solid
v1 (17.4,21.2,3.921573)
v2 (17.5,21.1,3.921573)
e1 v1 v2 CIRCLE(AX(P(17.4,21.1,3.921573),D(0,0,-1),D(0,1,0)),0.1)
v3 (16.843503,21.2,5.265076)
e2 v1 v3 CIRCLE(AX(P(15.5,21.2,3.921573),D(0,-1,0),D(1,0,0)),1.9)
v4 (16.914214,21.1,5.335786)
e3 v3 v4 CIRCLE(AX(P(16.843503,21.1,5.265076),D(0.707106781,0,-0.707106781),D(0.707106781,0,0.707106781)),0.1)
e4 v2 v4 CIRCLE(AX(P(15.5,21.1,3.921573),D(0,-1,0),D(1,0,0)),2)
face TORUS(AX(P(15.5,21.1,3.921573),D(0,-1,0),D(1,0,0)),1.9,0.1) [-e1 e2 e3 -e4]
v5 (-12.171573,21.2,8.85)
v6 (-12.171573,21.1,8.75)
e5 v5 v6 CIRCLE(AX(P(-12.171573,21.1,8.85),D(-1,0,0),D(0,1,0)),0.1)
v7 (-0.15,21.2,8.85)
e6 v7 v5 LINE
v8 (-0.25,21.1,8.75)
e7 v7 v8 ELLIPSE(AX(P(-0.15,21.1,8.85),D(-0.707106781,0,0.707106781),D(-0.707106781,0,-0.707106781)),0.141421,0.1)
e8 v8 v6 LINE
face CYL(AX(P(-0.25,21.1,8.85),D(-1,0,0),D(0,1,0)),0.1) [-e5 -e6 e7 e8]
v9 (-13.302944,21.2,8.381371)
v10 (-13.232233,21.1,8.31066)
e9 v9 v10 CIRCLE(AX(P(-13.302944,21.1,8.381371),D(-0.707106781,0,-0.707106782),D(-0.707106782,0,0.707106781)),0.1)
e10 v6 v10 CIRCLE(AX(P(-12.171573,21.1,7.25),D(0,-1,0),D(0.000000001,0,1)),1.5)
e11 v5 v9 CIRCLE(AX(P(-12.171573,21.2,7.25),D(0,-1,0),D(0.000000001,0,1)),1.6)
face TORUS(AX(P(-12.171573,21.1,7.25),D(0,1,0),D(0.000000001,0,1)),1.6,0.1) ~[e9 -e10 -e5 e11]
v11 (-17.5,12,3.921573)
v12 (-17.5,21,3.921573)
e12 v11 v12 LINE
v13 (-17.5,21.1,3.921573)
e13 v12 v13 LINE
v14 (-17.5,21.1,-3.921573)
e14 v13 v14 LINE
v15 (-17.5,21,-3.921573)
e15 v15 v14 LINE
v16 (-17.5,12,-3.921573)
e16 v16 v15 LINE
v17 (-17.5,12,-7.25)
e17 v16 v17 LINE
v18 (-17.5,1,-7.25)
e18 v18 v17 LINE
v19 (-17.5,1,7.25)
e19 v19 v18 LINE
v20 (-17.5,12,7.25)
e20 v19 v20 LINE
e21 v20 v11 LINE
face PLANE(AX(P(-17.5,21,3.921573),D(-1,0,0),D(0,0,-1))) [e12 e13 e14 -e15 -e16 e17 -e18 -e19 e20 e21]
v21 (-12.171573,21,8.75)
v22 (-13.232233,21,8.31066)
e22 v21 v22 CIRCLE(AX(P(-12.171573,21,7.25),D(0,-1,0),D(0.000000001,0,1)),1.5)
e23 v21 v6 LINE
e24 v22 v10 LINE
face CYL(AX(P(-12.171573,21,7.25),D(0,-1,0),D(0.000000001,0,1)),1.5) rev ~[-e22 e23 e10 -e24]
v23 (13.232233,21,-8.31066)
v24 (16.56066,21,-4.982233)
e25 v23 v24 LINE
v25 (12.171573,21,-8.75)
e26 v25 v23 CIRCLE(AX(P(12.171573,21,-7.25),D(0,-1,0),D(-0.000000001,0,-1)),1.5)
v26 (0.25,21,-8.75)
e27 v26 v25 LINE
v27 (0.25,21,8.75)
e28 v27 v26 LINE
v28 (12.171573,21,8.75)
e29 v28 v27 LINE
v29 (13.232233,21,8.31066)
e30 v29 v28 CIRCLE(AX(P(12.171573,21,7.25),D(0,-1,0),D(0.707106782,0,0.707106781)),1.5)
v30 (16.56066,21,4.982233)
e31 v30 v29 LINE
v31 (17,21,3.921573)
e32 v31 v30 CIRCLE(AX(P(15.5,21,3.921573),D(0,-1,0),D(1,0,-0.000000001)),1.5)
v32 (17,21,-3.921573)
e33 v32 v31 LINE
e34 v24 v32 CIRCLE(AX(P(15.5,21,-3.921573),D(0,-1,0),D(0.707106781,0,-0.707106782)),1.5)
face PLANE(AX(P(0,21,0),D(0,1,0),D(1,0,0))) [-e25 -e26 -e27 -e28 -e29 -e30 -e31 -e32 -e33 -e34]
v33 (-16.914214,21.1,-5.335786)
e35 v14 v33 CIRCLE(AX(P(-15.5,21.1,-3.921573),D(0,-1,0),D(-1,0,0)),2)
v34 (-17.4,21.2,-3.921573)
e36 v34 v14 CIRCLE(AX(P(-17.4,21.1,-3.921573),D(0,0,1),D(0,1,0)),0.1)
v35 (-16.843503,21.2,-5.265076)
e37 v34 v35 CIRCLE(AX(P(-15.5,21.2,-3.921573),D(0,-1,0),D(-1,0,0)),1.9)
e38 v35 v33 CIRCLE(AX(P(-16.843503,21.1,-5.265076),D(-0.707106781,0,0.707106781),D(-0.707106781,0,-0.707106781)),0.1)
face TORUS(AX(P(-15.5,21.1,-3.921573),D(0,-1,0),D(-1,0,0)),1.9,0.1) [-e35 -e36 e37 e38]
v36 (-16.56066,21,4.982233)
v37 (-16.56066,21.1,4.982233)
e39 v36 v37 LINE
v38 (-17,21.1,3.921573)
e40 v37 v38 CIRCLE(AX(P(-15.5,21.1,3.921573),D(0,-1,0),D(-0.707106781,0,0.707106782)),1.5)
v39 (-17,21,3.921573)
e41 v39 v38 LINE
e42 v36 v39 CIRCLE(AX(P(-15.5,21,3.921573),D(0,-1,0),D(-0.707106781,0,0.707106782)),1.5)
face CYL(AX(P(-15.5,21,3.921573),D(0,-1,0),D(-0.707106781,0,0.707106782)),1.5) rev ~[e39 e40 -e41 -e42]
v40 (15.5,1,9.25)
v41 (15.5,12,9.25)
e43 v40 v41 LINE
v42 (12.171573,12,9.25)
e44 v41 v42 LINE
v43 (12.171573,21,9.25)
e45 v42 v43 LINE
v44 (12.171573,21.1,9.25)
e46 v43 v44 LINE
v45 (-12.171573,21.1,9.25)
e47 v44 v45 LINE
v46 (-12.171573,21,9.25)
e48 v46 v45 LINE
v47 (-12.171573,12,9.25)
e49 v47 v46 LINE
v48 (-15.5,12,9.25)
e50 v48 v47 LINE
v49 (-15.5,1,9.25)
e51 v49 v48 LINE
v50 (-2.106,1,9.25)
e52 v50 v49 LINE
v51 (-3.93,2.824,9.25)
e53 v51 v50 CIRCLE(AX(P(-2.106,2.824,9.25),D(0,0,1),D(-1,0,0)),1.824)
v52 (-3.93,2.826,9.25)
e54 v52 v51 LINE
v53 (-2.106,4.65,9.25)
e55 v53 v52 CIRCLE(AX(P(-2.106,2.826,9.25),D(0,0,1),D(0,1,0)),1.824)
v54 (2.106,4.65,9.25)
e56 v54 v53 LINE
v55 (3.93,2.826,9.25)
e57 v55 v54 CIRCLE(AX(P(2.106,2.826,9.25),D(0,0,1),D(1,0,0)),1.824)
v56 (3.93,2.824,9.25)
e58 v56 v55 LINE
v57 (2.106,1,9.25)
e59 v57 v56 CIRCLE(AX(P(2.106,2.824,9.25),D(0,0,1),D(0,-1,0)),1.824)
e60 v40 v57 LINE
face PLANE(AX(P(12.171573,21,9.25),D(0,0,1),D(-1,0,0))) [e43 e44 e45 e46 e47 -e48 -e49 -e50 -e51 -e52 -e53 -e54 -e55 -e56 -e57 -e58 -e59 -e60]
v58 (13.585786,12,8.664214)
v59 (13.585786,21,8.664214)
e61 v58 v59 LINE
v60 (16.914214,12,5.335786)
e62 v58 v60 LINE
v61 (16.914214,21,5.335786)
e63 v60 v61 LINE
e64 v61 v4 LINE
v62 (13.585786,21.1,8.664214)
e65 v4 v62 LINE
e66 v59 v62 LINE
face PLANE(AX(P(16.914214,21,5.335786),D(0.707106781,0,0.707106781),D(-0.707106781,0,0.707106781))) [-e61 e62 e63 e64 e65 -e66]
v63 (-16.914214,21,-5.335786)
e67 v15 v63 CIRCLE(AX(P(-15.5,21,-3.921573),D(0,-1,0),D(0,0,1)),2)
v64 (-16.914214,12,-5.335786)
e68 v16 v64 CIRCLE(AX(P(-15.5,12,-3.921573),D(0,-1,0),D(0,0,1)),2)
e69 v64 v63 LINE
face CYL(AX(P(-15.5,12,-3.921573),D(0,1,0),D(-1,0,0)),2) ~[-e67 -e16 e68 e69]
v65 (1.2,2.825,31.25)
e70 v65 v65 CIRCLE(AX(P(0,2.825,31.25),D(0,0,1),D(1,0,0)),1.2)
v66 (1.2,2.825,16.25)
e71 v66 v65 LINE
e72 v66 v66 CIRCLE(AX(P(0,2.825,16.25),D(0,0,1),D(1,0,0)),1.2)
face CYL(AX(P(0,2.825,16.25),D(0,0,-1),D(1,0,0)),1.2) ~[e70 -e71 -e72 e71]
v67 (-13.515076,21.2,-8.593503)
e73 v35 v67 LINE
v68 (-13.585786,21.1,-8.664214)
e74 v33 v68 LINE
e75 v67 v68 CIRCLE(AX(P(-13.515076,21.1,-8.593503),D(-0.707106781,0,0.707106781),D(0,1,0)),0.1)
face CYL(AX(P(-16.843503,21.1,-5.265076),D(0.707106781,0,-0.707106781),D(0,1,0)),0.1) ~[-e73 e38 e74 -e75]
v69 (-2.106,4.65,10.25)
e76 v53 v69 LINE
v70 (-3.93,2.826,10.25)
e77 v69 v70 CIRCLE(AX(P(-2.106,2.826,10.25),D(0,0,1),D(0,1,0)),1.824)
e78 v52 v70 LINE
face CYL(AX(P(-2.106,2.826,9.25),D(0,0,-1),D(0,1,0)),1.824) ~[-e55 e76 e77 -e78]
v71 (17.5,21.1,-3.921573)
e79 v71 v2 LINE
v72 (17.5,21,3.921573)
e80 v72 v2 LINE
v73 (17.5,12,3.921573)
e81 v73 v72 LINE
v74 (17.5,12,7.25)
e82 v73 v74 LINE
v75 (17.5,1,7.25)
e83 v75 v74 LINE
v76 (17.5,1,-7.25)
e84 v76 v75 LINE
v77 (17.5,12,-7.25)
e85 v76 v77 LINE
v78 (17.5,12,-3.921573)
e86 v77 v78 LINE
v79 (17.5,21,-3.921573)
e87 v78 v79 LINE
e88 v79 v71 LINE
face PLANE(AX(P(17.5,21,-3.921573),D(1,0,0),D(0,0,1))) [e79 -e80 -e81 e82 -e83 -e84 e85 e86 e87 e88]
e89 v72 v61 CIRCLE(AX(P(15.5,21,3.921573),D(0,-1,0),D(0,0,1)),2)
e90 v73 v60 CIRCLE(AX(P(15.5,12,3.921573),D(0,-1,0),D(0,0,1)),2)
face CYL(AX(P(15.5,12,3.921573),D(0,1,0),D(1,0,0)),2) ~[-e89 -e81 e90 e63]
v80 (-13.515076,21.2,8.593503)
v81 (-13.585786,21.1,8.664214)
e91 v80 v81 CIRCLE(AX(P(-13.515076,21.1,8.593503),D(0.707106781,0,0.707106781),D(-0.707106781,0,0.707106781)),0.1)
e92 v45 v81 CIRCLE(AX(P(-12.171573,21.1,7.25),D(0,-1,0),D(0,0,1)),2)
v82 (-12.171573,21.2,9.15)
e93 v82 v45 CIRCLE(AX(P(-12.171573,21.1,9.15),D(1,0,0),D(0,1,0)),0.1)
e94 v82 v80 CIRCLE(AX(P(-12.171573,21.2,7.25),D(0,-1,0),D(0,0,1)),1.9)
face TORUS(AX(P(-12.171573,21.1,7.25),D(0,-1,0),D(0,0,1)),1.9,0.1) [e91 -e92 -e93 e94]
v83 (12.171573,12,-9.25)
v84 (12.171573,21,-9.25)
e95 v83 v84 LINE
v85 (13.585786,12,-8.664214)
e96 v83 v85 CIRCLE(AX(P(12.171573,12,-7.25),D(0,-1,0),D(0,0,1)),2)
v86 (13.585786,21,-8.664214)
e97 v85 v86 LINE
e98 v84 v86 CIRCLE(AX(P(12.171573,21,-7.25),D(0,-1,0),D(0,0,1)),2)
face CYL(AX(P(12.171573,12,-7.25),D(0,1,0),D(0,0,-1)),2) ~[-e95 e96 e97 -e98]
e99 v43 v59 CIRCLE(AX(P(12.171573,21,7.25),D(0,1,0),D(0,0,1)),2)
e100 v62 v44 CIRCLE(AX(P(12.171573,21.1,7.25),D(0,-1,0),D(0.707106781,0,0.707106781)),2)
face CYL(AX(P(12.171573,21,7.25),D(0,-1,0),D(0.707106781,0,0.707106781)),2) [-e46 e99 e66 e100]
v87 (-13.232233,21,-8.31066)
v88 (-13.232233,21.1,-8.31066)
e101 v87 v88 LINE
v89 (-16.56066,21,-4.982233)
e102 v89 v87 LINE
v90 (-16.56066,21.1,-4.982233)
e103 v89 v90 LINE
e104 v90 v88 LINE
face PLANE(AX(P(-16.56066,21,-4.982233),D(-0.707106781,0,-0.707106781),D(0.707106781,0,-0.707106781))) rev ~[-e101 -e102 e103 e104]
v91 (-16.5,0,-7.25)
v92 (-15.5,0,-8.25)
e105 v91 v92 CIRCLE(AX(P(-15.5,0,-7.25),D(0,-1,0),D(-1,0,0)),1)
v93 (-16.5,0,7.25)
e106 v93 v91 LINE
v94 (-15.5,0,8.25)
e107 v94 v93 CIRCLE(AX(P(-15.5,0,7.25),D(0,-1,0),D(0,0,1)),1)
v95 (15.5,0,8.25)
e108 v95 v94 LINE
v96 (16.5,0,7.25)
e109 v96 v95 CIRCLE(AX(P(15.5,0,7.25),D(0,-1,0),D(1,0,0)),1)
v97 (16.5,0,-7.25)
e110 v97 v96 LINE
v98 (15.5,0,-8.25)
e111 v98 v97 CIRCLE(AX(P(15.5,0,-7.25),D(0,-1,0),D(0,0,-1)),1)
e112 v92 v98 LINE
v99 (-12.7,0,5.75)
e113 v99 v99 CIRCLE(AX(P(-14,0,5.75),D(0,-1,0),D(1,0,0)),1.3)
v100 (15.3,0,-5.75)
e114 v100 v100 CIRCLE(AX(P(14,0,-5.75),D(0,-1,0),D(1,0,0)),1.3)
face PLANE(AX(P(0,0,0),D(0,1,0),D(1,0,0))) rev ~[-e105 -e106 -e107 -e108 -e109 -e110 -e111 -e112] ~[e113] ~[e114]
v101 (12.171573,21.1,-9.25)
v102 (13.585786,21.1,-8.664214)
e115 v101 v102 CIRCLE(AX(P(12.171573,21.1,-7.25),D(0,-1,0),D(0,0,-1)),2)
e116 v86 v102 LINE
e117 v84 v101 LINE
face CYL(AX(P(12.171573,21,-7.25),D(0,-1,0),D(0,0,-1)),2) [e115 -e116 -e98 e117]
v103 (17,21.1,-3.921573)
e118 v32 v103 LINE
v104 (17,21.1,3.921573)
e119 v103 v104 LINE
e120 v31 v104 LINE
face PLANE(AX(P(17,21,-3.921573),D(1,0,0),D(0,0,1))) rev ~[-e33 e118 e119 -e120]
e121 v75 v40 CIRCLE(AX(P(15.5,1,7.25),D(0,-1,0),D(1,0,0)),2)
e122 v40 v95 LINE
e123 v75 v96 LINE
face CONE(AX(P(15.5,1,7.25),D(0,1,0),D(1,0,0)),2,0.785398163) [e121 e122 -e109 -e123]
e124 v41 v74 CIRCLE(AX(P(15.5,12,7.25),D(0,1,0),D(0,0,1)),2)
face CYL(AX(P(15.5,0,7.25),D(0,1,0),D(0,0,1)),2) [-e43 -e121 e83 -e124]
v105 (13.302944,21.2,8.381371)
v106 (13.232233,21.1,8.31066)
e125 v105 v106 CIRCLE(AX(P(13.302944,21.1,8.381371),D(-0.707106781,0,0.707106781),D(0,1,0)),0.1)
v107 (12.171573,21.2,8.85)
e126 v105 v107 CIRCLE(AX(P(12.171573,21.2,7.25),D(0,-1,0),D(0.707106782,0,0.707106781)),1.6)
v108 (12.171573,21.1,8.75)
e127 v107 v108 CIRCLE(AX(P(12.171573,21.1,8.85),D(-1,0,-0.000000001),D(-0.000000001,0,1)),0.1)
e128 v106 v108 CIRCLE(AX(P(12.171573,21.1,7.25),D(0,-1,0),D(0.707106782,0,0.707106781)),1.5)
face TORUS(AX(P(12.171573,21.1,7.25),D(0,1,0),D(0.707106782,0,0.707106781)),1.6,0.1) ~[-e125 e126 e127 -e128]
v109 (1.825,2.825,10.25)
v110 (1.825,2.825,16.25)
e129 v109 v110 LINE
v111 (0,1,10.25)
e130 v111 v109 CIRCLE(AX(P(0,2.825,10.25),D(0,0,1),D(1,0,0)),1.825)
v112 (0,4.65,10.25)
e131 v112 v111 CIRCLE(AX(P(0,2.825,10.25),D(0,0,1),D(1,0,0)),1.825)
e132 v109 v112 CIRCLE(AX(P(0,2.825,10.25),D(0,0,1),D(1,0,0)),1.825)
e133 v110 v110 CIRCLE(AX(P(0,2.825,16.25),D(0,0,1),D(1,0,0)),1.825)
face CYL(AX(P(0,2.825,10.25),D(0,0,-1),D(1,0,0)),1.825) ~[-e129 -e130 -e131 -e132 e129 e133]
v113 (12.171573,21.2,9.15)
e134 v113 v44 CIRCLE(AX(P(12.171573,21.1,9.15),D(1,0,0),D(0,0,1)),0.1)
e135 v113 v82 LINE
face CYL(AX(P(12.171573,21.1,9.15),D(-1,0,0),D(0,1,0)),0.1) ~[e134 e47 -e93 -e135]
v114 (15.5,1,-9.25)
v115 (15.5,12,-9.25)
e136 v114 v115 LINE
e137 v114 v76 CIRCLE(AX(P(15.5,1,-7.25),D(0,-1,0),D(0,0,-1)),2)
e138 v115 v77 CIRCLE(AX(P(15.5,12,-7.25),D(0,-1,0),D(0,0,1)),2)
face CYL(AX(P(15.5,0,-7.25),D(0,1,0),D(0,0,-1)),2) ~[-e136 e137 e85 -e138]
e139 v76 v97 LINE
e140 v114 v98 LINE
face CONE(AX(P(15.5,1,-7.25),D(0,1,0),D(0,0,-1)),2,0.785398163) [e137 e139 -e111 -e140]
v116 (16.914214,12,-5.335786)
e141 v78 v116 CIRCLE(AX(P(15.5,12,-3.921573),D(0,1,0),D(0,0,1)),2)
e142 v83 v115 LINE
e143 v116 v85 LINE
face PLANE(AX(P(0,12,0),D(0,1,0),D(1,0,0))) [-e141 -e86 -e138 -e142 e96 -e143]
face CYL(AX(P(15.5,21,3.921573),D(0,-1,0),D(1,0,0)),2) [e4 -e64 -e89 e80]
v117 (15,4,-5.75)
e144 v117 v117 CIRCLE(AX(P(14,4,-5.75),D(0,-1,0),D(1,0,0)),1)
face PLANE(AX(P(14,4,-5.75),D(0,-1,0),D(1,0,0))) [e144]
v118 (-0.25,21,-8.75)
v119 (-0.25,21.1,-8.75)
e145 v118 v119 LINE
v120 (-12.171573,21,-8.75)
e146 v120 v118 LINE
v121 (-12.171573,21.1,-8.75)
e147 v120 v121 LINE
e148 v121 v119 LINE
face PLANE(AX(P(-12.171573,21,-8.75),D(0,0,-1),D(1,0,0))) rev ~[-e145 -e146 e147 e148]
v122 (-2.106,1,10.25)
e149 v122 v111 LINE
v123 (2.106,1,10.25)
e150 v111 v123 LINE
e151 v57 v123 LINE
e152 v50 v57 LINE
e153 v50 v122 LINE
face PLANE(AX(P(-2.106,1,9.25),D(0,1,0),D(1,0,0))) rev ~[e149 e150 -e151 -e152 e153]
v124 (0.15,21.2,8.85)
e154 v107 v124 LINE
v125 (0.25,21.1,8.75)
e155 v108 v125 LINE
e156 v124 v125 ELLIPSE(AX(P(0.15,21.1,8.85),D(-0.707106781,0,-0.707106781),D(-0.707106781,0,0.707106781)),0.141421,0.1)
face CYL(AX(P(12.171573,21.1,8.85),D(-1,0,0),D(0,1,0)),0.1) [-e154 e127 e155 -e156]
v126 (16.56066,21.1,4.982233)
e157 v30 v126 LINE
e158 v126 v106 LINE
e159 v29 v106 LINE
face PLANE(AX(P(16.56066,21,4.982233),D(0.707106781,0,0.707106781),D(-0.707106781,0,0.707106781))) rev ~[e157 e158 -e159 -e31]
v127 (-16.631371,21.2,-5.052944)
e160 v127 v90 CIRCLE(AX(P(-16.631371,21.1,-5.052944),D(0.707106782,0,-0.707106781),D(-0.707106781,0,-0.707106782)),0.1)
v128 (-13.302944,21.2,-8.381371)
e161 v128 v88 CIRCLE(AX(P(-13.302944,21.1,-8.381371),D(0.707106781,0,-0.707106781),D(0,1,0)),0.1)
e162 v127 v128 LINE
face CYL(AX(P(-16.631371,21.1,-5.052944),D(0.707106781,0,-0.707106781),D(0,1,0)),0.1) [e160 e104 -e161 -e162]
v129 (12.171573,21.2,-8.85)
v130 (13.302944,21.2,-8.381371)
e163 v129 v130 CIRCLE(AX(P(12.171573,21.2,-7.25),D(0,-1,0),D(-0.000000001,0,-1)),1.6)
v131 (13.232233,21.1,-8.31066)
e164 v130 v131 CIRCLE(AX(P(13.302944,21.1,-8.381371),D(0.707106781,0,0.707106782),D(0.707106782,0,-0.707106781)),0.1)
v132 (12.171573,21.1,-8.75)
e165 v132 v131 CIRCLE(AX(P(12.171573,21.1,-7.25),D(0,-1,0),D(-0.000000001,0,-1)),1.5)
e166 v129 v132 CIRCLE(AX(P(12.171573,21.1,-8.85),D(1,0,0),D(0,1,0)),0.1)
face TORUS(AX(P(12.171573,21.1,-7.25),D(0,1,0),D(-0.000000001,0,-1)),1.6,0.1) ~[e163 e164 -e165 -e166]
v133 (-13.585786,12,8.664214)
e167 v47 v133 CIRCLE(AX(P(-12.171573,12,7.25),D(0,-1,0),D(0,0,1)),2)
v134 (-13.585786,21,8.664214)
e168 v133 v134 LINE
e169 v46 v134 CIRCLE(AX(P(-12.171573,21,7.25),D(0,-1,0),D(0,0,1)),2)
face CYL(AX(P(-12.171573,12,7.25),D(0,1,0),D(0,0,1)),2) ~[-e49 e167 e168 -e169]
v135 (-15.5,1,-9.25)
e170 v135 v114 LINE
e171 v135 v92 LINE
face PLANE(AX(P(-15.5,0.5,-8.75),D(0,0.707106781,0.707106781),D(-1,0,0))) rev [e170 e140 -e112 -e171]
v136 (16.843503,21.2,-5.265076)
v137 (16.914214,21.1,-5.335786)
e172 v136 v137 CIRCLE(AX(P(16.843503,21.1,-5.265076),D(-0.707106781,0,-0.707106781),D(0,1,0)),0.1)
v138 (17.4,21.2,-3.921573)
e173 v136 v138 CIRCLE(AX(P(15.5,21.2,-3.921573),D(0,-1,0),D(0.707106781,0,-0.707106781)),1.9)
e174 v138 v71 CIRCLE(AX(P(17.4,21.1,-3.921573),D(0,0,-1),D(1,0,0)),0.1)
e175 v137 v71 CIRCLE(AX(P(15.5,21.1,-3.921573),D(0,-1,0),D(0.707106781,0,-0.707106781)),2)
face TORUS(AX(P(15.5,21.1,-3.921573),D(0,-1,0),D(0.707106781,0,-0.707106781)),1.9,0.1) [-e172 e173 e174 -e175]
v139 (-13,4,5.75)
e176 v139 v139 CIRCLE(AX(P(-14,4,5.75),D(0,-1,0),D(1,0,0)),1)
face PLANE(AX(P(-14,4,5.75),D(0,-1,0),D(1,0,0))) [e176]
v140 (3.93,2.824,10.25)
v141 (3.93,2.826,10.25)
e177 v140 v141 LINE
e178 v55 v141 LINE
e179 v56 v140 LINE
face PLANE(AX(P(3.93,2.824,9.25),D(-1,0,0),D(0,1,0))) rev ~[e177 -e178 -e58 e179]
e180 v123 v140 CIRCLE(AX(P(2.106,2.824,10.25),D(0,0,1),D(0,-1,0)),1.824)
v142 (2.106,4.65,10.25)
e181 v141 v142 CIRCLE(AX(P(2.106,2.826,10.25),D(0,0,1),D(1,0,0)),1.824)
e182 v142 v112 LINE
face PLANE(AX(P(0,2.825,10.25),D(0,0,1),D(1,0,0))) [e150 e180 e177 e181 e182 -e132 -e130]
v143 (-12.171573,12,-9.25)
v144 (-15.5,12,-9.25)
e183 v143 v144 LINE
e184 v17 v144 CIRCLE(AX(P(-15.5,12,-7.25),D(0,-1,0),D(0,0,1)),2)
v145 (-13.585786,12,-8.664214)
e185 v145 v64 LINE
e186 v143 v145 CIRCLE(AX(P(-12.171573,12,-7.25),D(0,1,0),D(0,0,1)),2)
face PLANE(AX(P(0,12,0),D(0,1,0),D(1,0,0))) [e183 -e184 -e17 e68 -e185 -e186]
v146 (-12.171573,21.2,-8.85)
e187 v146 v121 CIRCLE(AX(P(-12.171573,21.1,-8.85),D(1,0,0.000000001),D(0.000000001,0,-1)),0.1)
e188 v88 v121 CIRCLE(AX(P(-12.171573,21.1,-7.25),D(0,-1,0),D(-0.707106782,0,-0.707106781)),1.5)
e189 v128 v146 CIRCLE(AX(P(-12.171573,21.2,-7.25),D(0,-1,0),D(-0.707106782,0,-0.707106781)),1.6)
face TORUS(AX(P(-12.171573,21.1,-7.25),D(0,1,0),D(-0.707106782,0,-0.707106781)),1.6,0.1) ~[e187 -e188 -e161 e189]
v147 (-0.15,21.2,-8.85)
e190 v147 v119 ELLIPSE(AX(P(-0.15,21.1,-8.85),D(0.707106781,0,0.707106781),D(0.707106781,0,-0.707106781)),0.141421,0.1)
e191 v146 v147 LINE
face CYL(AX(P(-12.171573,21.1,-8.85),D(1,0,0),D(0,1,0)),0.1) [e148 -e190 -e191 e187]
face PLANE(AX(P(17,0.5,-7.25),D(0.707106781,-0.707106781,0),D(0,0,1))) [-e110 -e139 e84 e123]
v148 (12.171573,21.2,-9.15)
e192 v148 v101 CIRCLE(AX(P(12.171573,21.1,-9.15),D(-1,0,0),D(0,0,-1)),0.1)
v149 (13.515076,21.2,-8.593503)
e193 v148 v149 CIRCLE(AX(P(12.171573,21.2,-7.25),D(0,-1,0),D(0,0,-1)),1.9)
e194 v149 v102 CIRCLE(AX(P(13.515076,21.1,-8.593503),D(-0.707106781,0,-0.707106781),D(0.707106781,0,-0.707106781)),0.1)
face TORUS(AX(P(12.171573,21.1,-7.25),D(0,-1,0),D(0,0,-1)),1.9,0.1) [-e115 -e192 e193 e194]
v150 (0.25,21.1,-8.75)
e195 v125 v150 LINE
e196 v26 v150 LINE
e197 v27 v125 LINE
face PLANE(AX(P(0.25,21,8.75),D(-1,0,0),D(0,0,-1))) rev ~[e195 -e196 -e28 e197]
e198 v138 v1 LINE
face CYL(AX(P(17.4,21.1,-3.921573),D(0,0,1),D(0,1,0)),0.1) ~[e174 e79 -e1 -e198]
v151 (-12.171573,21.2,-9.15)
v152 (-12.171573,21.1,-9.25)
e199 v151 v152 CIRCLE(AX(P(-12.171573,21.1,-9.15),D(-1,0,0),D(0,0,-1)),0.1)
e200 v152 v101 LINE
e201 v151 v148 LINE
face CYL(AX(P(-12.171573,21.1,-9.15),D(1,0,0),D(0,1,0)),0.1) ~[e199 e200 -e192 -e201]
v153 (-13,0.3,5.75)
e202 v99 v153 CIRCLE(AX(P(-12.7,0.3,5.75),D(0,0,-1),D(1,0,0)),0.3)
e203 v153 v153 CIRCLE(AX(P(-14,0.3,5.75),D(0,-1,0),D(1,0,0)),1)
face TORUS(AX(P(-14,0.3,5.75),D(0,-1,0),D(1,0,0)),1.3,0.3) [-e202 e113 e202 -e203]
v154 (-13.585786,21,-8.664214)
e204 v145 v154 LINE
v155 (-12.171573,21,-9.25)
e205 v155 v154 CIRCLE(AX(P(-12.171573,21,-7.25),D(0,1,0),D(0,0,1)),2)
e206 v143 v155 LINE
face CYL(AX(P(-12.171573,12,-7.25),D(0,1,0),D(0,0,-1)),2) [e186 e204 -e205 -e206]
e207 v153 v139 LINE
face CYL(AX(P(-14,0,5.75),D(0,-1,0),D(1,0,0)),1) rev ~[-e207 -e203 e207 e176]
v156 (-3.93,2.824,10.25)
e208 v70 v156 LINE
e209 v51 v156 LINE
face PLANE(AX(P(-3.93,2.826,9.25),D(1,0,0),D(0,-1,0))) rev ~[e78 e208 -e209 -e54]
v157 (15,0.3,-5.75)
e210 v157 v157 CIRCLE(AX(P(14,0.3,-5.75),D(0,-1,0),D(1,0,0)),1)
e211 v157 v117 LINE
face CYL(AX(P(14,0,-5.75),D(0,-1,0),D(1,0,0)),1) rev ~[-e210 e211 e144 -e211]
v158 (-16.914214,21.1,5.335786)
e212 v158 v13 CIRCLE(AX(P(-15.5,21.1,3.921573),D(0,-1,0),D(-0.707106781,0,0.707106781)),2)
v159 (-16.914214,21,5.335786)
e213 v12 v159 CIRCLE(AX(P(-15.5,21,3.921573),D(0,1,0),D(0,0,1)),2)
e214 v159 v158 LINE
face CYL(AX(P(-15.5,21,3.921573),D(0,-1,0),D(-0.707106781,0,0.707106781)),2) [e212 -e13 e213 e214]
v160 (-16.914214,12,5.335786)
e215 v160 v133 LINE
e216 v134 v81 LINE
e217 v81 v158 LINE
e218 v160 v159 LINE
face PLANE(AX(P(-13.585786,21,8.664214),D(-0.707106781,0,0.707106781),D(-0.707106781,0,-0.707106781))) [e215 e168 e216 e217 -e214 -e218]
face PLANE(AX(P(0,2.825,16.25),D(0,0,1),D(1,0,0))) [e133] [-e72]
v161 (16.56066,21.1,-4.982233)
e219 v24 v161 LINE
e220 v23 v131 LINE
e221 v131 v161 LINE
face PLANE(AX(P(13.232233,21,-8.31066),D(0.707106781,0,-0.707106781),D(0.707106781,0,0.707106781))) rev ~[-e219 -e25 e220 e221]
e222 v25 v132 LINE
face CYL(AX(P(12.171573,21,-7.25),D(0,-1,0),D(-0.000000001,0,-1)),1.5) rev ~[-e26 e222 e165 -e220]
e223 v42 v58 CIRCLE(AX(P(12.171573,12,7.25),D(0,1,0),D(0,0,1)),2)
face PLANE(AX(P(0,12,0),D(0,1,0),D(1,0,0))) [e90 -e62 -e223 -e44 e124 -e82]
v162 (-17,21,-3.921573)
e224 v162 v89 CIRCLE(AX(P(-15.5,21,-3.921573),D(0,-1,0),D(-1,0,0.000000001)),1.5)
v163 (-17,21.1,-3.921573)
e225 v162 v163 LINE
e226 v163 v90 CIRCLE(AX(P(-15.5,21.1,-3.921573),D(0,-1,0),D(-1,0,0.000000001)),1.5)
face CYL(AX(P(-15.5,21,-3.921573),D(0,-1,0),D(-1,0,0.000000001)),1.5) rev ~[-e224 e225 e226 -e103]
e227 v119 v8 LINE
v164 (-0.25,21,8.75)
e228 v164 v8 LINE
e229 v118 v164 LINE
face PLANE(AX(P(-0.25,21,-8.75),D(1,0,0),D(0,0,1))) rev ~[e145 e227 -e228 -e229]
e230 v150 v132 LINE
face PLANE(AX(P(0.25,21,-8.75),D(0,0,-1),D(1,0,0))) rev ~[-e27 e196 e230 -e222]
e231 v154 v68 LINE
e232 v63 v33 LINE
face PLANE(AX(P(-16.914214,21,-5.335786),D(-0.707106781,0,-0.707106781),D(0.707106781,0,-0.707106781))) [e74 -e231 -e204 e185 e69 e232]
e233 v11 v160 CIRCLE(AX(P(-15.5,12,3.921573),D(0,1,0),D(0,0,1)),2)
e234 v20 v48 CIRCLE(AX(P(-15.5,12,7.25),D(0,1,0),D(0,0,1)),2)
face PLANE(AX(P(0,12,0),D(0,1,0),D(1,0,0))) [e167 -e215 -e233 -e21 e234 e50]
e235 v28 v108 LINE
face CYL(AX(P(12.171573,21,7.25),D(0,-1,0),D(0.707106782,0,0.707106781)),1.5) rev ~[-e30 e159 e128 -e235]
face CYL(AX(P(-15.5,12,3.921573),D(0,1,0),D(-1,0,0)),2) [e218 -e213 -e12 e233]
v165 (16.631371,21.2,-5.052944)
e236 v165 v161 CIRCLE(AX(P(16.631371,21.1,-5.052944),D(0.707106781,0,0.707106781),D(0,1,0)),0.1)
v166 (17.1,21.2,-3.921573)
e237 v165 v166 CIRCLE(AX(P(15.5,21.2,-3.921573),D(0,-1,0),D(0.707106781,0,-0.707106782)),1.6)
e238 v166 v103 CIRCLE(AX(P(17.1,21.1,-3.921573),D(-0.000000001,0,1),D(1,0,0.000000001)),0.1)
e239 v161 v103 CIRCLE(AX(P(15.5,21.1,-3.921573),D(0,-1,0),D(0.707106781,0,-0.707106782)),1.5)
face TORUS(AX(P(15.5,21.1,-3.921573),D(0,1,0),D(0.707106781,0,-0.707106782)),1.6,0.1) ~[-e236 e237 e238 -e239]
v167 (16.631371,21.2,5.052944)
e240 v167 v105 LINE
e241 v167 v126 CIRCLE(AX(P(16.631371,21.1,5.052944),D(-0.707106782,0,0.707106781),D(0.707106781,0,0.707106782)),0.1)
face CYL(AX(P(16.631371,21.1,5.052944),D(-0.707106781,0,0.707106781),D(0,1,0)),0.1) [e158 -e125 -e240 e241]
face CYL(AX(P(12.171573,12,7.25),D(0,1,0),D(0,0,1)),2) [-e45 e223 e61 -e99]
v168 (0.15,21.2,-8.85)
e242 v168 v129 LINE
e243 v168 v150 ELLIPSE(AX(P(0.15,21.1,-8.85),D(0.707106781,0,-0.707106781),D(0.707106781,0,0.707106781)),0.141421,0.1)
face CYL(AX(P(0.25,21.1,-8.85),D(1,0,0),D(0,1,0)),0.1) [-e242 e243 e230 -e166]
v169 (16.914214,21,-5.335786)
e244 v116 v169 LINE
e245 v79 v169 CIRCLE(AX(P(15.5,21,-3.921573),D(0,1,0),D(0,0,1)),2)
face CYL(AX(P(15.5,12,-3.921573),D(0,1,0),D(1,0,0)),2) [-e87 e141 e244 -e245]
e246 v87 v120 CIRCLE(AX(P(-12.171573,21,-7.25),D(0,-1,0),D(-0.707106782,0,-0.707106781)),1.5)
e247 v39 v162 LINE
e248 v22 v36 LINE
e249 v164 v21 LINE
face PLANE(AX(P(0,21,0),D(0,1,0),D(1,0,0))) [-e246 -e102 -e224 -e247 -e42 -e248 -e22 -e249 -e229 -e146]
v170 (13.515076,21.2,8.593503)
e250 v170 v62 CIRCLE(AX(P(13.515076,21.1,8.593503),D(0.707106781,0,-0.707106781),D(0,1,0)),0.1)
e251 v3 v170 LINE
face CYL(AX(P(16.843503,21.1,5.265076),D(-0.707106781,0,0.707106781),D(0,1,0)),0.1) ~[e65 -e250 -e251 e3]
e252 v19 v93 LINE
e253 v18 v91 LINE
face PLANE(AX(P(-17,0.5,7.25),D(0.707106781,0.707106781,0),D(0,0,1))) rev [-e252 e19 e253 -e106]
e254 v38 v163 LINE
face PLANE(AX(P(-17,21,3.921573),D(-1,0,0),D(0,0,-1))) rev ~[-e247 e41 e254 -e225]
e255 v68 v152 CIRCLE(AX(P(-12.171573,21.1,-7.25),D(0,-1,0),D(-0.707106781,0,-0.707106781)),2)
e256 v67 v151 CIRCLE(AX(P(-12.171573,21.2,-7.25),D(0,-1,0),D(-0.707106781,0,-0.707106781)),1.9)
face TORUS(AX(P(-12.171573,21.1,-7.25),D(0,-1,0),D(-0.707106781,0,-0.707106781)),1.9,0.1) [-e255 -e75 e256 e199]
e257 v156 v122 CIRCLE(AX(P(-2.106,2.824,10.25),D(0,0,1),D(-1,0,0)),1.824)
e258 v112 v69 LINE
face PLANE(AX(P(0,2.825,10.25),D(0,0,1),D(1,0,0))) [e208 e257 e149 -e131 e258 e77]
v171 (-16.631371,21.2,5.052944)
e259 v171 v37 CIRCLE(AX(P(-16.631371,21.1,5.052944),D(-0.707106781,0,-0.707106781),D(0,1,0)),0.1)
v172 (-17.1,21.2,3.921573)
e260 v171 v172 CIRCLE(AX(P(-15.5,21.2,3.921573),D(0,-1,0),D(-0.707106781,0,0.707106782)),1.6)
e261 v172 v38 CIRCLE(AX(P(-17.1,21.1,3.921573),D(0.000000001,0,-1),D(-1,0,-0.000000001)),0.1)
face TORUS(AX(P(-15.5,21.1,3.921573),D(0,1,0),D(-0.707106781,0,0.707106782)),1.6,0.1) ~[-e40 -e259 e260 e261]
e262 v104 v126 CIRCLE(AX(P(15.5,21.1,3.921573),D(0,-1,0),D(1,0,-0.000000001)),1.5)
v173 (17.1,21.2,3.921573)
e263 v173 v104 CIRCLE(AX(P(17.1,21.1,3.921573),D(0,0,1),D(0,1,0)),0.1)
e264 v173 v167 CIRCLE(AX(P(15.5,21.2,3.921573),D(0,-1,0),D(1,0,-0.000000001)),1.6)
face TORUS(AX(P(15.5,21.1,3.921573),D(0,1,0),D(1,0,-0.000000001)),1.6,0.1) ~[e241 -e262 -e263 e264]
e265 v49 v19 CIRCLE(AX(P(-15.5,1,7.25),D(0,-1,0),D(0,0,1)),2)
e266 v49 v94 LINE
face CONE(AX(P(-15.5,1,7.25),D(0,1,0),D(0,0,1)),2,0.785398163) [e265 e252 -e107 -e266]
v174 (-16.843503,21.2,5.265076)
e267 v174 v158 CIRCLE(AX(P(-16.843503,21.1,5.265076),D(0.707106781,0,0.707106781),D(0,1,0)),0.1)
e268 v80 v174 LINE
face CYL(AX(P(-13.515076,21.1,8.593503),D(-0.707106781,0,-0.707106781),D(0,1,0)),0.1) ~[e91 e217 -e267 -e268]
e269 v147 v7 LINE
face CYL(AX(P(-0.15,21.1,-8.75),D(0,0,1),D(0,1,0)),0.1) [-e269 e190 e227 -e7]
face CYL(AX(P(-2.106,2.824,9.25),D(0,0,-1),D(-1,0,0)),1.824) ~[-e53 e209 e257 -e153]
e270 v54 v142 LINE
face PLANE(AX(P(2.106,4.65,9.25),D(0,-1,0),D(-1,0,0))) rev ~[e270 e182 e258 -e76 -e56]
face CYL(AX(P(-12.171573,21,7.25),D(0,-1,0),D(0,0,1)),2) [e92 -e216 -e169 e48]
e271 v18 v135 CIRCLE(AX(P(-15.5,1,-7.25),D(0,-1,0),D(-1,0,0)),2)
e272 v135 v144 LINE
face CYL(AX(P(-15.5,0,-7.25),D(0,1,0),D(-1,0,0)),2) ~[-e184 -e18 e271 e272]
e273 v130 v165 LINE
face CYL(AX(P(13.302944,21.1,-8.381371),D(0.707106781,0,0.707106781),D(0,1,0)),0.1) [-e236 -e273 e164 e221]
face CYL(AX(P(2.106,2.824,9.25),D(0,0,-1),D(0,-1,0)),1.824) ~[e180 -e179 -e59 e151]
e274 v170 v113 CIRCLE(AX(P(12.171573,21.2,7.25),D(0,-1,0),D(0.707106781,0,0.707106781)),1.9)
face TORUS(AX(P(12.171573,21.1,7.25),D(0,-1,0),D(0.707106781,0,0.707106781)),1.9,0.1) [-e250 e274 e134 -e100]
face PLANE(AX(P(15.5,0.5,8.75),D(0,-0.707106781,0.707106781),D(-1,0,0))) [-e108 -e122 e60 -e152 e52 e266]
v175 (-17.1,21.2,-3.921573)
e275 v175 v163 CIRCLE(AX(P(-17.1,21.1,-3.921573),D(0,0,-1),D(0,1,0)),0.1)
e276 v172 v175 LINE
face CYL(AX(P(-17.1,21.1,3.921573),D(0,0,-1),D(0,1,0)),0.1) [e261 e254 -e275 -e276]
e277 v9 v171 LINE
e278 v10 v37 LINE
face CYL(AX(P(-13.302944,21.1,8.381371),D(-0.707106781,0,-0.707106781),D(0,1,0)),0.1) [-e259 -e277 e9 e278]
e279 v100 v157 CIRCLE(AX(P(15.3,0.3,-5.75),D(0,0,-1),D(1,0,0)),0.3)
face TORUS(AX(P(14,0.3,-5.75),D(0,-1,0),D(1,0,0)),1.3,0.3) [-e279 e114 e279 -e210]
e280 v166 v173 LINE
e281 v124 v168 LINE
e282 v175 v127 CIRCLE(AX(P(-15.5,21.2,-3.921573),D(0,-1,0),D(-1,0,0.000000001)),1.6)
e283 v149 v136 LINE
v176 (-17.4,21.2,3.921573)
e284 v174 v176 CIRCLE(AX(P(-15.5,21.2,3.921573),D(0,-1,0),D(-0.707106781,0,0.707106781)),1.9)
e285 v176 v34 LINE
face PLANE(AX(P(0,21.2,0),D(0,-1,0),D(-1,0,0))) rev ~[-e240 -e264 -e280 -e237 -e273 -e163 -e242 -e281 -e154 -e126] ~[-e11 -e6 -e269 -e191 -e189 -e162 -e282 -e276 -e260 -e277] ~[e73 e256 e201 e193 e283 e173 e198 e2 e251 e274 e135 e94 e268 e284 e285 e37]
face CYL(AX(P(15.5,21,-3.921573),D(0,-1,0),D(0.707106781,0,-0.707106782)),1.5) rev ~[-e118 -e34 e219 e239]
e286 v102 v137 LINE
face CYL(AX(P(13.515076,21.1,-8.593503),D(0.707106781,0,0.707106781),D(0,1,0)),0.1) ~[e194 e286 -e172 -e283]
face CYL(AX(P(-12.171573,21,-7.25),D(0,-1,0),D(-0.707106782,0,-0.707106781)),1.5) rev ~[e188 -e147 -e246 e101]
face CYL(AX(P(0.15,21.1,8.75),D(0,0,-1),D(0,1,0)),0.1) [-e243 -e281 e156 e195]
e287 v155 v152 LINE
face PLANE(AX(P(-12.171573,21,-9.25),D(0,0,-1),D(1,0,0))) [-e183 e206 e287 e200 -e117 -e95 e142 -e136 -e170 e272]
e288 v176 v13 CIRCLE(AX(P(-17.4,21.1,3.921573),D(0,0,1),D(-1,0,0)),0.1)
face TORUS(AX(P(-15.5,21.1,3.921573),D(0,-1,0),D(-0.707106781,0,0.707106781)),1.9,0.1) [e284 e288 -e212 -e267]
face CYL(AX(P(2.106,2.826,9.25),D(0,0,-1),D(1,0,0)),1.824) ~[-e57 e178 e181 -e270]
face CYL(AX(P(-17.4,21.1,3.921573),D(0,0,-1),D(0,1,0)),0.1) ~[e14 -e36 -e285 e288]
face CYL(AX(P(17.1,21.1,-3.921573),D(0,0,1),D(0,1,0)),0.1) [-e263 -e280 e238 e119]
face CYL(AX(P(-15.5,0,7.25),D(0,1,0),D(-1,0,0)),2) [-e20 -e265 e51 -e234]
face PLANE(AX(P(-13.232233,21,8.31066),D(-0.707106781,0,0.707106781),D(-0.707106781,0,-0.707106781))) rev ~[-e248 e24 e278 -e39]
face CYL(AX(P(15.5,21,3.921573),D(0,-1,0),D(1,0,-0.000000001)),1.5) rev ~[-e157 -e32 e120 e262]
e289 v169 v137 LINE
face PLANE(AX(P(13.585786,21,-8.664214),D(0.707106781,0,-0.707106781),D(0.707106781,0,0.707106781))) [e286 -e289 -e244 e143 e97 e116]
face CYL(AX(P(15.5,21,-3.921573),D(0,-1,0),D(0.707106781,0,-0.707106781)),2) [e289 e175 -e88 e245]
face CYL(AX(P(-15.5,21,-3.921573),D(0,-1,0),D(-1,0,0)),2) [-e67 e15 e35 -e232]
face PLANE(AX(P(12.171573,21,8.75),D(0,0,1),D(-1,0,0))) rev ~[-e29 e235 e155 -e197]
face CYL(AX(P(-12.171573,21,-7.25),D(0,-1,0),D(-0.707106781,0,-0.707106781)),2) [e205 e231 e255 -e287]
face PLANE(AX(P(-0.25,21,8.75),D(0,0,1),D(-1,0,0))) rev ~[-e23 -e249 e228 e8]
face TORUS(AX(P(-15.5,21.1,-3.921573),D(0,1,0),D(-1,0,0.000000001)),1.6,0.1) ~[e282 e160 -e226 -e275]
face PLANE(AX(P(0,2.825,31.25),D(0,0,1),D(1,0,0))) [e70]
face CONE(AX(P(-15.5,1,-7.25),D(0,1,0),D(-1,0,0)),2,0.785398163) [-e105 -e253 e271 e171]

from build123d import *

# Parameters (mm, degrees)
SKETCH_1_W          = 35
SKETCH_1_H          = 18.5
EXTRUDE_1_DEPTH     = 12
EXTRUDE_2_DEPTH     = 9
FILLET_1_R          = 2
CHAMFER_1_SIZE      = 1
EXTRUDE_3_DEPTH     = 1
SKETCH_4_R          = 1.825
EXTRUDE_4_DEPTH     = 6
SKETCH_5_R          = 1.2
EXTRUDE_5_DEPTH     = 15
SKETCH_6_R          = 1
CUT_EXTRUDE_1_DEPTH = 4
FILLET_2_R          = 0.3
EXTRUDE_6_DEPTH     = 0.2
FILLET_3_R          = 0.1


with BuildPart() as part:
    # 草图1 → 凸台-拉伸1 (new body)
    with BuildSketch(Plane(origin=(0, 0, 0), x_dir=(1, 0, 0), z_dir=(0, 1, 0))):
        Rectangle(SKETCH_1_W, SKETCH_1_H)
    extrude(amount=EXTRUDE_1_DEPTH)

    # 草图2 → 凸台-拉伸2 (add)
    with BuildSketch(Plane(origin=(0, 12, 0), x_dir=(1, 0, 0), z_dir=(0, 1, 0))):
        Polygon((-13, 9.25), (-17.5, 4.75), (-17.5, -4.75), (-13, -9.25), (13, -9.25), (17.5, -4.75), (17.5, 4.75), (13, 9.25), align=None)
    extrude(amount=EXTRUDE_2_DEPTH)

    # 圆角1
    fillet_1_edges = [part.edges().sort_by_distance(p)[0] for p in [
        (13, 16.5, -9.25),
        (-13, 16.5, -9.25),
        (-17.5, 16.5, -4.75),
        (-17.5, 16.5, 4.75),
        (-13, 16.5, 9.25),
        (13, 16.5, 9.25),
        (17.5, 16.5, 4.75),
        (17.5, 16.5, -4.75),
        (17.5, 6, 9.25),
        (-17.5, 6, 9.25),
        (-17.5, 6, -9.25),
        (17.5, 6, -9.25),
    ]]
    fillet(fillet_1_edges, radius=FILLET_1_R)

    # 倒角1
    chamfer_1_edges = [part.edges().sort_by_distance(p)[0] for p in [
        (0, 0, -9.25),
        (-17.5, 0, 0),
        (17.5, 0, 0),
        (0, 0, 9.25),
        (-16.914213562, 0, 8.664213562),
        (-16.914213562, 0, -8.664213562),
        (16.914213562, 0, -8.664213562),
        (16.914213562, 0, 8.664213562),
    ]]
    chamfer(chamfer_1_edges, length=CHAMFER_1_SIZE)

    # 草图3 → 凸台-拉伸3 (add)
    with BuildSketch(Plane.XY.offset(9.25)):
        with BuildLine():
            Line((-2.106, 1), (2.106, 1))
            ThreePointArc((2.106, 1), (3.395762769, 1.534237231), (3.93, 2.824))
            Line((3.93, 2.824), (3.93, 2.826))
            ThreePointArc((3.93, 2.826), (3.395762769, 4.115762769), (2.106, 4.65))
            Line((2.106, 4.65), (-2.106, 4.65))
            ThreePointArc((-2.106, 4.65), (-3.395762769, 4.115762769), (-3.93, 2.826))
            Line((-3.93, 2.826), (-3.93, 2.824))
            ThreePointArc((-3.93, 2.824), (-3.395762769, 1.534237231), (-2.106, 1))
        make_face()
    extrude(amount=EXTRUDE_3_DEPTH)

    # 草图4 → 凸台-拉伸4 (add)
    with BuildSketch(Plane.XY.offset(10.25)):
        with Locations((0, 2.825)):
            Circle(SKETCH_4_R)
    extrude(amount=EXTRUDE_4_DEPTH)

    # 草图5 → 凸台-拉伸5 (add)
    with BuildSketch(Plane.XY.offset(16.25)):
        with Locations((0, 2.825)):
            Circle(SKETCH_5_R)
    extrude(amount=EXTRUDE_5_DEPTH)

    # 草图6 → 切除-拉伸1 (cut)
    with BuildSketch(Plane.XZ):
        with Locations((-14, 5.75)):
            Circle(SKETCH_6_R)
        with Locations((14, -5.75)):
            Circle(SKETCH_6_R)
    extrude(amount=-CUT_EXTRUDE_1_DEPTH, mode=Mode.SUBTRACT)

    # 圆角2
    fillet_2_edges = [part.edges().sort_by_distance(p)[0] for p in [
        (-15, 0, 5.75),
        (13, 0, -5.75),
    ]]
    fillet(fillet_2_edges, radius=FILLET_2_R)

    # 草图7 → 凸台-拉伸6 (add)
    with BuildSketch(Plane(origin=(0, 21, 0), x_dir=(1, 0, 0), z_dir=(0, 1, 0))):
        with BuildLine():
            Line((-16.914213562, 5.335786438), (-13.585786438, 8.664213562))
            ThreePointArc((-13.585786438, 8.664213562), (-12.93693974, 9.097759065), (-12.171572875, 9.25))
            Line((-12.171572875, 9.25), (12.171572875, 9.25))
            ThreePointArc((12.171572875, 9.25), (12.93693974, 9.097759065), (13.585786438, 8.664213562))
            Line((13.585786438, 8.664213562), (16.914213562, 5.335786438))
            ThreePointArc((16.914213562, 5.335786438), (17.347759065, 4.68693974), (17.5, 3.921572875))
            Line((17.5, 3.921572875), (17.5, -3.921572875))
            ThreePointArc((17.5, -3.921572875), (17.347759065, -4.68693974), (16.914213562, -5.335786438))
            Line((16.914213562, -5.335786438), (13.585786438, -8.664213562))
            ThreePointArc((13.585786438, -8.664213562), (12.93693974, -9.097759065), (12.171572875, -9.25))
            Line((12.171572875, -9.25), (-12.171572875, -9.25))
            ThreePointArc((-12.171572875, -9.25), (-12.93693974, -9.097759065), (-13.585786438, -8.664213562))
            Line((-13.585786438, -8.664213562), (-16.914213562, -5.335786438))
            ThreePointArc((-16.914213562, -5.335786438), (-17.347759065, -4.68693974), (-17.5, -3.921572875))
            Line((-17.5, -3.921572875), (-17.5, 3.921572875))
            ThreePointArc((-17.5, 3.921572875), (-17.347759065, 4.68693974), (-16.914213562, 5.335786438))
        make_face()
        with BuildLine():
            Line((-16.560660172, 4.982233047), (-13.232233047, 8.310660172))
            ThreePointArc((-13.232233047, 8.310660172), (-12.745598024, 8.635819299), (-12.171572875, 8.75))
            Line((-12.171572875, 8.75), (-0.25, 8.75))
            Line((-0.25, 8.75), (-0.25, -8.75))
            Line((-0.25, -8.75), (-12.171572875, -8.75))
            ThreePointArc((-12.171572875, -8.75), (-12.745598024, -8.635819299), (-13.232233047, -8.310660172))
            Line((-13.232233047, -8.310660172), (-16.560660172, -4.982233047))
            ThreePointArc((-16.560660172, -4.982233047), (-16.885819299, -4.495598024), (-17, -3.921572875))
            Line((-17, -3.921572875), (-17, 3.921572875))
            ThreePointArc((-17, 3.921572875), (-16.885819299, 4.495598024), (-16.560660172, 4.982233047))
        make_face(mode=Mode.SUBTRACT)
        with BuildLine():
            Line((13.232233047, 8.310660172), (16.560660172, 4.982233047))
            ThreePointArc((16.560660172, 4.982233047), (16.885819299, 4.495598024), (17, 3.921572875))
            Line((17, 3.921572875), (17, -3.921572875))
            ThreePointArc((17, -3.921572875), (16.885819299, -4.495598024), (16.560660172, -4.982233047))
            Line((16.560660172, -4.982233047), (13.232233047, -8.310660172))
            ThreePointArc((13.232233047, -8.310660172), (12.745598024, -8.635819299), (12.171572875, -8.75))
            Line((12.171572875, -8.75), (0.25, -8.75))
            Line((0.25, -8.75), (0.25, 8.75))
            Line((0.25, 8.75), (12.171572875, 8.75))
            ThreePointArc((12.171572875, 8.75), (12.745598024, 8.635819299), (13.232233047, 8.310660172))
        make_face(mode=Mode.SUBTRACT)
    extrude(amount=EXTRUDE_6_DEPTH)

    # 圆角3
    fillet_3_edges = [part.edges().sort_by_distance(p)[0] for p in [
        (12.93693974, 21.2, -9.097759065),
        (0, 21.2, -9.25),
        (-12.93693974, 21.2, -9.097759065),
        (-15.25, 21.2, -7),
        (-17.347759065, 21.2, -4.68693974),
        (-17.5, 21.2, 0),
        (-17.347759065, 21.2, 4.68693974),
        (-15.25, 21.2, 7),
        (-12.93693974, 21.2, 9.097759065),
        (0, 21.2, 9.25),
        (12.93693974, 21.2, 9.097759065),
        (15.25, 21.2, 7),
        (17.347759065, 21.2, 4.68693974),
        (17.5, 21.2, 0),
        (17.347759065, 21.2, -4.68693974),
        (15.25, 21.2, -7),
        (-16.885819299, 21.2, -4.495598024),
        (-17, 21.2, 0),
        (-16.885819299, 21.2, 4.495598024),
        (-14.896446609, 21.2, 6.646446609),
        (-12.745598024, 21.2, 8.635819299),
        (-6.210786438, 21.2, 8.75),
        (-0.25, 21.2, 0),
        (-6.210786438, 21.2, -8.75),
        (-12.745598024, 21.2, -8.635819299),
        (-14.896446609, 21.2, -6.646446609),
        (12.745598024, 21.2, -8.635819299),
        (6.210786438, 21.2, -8.75),
        (0.25, 21.2, 0),
        (6.210786438, 21.2, 8.75),
        (12.745598024, 21.2, 8.635819299),
        (14.896446609, 21.2, 6.646446609),
        (16.885819299, 21.2, 4.495598024),
        (17, 21.2, 0),
        (16.885819299, 21.2, -4.495598024),
        (14.896446609, 21.2, -6.646446609),
    ]]
    fillet(fillet_3_edges, radius=FILLET_3_R)


solid = part.part
